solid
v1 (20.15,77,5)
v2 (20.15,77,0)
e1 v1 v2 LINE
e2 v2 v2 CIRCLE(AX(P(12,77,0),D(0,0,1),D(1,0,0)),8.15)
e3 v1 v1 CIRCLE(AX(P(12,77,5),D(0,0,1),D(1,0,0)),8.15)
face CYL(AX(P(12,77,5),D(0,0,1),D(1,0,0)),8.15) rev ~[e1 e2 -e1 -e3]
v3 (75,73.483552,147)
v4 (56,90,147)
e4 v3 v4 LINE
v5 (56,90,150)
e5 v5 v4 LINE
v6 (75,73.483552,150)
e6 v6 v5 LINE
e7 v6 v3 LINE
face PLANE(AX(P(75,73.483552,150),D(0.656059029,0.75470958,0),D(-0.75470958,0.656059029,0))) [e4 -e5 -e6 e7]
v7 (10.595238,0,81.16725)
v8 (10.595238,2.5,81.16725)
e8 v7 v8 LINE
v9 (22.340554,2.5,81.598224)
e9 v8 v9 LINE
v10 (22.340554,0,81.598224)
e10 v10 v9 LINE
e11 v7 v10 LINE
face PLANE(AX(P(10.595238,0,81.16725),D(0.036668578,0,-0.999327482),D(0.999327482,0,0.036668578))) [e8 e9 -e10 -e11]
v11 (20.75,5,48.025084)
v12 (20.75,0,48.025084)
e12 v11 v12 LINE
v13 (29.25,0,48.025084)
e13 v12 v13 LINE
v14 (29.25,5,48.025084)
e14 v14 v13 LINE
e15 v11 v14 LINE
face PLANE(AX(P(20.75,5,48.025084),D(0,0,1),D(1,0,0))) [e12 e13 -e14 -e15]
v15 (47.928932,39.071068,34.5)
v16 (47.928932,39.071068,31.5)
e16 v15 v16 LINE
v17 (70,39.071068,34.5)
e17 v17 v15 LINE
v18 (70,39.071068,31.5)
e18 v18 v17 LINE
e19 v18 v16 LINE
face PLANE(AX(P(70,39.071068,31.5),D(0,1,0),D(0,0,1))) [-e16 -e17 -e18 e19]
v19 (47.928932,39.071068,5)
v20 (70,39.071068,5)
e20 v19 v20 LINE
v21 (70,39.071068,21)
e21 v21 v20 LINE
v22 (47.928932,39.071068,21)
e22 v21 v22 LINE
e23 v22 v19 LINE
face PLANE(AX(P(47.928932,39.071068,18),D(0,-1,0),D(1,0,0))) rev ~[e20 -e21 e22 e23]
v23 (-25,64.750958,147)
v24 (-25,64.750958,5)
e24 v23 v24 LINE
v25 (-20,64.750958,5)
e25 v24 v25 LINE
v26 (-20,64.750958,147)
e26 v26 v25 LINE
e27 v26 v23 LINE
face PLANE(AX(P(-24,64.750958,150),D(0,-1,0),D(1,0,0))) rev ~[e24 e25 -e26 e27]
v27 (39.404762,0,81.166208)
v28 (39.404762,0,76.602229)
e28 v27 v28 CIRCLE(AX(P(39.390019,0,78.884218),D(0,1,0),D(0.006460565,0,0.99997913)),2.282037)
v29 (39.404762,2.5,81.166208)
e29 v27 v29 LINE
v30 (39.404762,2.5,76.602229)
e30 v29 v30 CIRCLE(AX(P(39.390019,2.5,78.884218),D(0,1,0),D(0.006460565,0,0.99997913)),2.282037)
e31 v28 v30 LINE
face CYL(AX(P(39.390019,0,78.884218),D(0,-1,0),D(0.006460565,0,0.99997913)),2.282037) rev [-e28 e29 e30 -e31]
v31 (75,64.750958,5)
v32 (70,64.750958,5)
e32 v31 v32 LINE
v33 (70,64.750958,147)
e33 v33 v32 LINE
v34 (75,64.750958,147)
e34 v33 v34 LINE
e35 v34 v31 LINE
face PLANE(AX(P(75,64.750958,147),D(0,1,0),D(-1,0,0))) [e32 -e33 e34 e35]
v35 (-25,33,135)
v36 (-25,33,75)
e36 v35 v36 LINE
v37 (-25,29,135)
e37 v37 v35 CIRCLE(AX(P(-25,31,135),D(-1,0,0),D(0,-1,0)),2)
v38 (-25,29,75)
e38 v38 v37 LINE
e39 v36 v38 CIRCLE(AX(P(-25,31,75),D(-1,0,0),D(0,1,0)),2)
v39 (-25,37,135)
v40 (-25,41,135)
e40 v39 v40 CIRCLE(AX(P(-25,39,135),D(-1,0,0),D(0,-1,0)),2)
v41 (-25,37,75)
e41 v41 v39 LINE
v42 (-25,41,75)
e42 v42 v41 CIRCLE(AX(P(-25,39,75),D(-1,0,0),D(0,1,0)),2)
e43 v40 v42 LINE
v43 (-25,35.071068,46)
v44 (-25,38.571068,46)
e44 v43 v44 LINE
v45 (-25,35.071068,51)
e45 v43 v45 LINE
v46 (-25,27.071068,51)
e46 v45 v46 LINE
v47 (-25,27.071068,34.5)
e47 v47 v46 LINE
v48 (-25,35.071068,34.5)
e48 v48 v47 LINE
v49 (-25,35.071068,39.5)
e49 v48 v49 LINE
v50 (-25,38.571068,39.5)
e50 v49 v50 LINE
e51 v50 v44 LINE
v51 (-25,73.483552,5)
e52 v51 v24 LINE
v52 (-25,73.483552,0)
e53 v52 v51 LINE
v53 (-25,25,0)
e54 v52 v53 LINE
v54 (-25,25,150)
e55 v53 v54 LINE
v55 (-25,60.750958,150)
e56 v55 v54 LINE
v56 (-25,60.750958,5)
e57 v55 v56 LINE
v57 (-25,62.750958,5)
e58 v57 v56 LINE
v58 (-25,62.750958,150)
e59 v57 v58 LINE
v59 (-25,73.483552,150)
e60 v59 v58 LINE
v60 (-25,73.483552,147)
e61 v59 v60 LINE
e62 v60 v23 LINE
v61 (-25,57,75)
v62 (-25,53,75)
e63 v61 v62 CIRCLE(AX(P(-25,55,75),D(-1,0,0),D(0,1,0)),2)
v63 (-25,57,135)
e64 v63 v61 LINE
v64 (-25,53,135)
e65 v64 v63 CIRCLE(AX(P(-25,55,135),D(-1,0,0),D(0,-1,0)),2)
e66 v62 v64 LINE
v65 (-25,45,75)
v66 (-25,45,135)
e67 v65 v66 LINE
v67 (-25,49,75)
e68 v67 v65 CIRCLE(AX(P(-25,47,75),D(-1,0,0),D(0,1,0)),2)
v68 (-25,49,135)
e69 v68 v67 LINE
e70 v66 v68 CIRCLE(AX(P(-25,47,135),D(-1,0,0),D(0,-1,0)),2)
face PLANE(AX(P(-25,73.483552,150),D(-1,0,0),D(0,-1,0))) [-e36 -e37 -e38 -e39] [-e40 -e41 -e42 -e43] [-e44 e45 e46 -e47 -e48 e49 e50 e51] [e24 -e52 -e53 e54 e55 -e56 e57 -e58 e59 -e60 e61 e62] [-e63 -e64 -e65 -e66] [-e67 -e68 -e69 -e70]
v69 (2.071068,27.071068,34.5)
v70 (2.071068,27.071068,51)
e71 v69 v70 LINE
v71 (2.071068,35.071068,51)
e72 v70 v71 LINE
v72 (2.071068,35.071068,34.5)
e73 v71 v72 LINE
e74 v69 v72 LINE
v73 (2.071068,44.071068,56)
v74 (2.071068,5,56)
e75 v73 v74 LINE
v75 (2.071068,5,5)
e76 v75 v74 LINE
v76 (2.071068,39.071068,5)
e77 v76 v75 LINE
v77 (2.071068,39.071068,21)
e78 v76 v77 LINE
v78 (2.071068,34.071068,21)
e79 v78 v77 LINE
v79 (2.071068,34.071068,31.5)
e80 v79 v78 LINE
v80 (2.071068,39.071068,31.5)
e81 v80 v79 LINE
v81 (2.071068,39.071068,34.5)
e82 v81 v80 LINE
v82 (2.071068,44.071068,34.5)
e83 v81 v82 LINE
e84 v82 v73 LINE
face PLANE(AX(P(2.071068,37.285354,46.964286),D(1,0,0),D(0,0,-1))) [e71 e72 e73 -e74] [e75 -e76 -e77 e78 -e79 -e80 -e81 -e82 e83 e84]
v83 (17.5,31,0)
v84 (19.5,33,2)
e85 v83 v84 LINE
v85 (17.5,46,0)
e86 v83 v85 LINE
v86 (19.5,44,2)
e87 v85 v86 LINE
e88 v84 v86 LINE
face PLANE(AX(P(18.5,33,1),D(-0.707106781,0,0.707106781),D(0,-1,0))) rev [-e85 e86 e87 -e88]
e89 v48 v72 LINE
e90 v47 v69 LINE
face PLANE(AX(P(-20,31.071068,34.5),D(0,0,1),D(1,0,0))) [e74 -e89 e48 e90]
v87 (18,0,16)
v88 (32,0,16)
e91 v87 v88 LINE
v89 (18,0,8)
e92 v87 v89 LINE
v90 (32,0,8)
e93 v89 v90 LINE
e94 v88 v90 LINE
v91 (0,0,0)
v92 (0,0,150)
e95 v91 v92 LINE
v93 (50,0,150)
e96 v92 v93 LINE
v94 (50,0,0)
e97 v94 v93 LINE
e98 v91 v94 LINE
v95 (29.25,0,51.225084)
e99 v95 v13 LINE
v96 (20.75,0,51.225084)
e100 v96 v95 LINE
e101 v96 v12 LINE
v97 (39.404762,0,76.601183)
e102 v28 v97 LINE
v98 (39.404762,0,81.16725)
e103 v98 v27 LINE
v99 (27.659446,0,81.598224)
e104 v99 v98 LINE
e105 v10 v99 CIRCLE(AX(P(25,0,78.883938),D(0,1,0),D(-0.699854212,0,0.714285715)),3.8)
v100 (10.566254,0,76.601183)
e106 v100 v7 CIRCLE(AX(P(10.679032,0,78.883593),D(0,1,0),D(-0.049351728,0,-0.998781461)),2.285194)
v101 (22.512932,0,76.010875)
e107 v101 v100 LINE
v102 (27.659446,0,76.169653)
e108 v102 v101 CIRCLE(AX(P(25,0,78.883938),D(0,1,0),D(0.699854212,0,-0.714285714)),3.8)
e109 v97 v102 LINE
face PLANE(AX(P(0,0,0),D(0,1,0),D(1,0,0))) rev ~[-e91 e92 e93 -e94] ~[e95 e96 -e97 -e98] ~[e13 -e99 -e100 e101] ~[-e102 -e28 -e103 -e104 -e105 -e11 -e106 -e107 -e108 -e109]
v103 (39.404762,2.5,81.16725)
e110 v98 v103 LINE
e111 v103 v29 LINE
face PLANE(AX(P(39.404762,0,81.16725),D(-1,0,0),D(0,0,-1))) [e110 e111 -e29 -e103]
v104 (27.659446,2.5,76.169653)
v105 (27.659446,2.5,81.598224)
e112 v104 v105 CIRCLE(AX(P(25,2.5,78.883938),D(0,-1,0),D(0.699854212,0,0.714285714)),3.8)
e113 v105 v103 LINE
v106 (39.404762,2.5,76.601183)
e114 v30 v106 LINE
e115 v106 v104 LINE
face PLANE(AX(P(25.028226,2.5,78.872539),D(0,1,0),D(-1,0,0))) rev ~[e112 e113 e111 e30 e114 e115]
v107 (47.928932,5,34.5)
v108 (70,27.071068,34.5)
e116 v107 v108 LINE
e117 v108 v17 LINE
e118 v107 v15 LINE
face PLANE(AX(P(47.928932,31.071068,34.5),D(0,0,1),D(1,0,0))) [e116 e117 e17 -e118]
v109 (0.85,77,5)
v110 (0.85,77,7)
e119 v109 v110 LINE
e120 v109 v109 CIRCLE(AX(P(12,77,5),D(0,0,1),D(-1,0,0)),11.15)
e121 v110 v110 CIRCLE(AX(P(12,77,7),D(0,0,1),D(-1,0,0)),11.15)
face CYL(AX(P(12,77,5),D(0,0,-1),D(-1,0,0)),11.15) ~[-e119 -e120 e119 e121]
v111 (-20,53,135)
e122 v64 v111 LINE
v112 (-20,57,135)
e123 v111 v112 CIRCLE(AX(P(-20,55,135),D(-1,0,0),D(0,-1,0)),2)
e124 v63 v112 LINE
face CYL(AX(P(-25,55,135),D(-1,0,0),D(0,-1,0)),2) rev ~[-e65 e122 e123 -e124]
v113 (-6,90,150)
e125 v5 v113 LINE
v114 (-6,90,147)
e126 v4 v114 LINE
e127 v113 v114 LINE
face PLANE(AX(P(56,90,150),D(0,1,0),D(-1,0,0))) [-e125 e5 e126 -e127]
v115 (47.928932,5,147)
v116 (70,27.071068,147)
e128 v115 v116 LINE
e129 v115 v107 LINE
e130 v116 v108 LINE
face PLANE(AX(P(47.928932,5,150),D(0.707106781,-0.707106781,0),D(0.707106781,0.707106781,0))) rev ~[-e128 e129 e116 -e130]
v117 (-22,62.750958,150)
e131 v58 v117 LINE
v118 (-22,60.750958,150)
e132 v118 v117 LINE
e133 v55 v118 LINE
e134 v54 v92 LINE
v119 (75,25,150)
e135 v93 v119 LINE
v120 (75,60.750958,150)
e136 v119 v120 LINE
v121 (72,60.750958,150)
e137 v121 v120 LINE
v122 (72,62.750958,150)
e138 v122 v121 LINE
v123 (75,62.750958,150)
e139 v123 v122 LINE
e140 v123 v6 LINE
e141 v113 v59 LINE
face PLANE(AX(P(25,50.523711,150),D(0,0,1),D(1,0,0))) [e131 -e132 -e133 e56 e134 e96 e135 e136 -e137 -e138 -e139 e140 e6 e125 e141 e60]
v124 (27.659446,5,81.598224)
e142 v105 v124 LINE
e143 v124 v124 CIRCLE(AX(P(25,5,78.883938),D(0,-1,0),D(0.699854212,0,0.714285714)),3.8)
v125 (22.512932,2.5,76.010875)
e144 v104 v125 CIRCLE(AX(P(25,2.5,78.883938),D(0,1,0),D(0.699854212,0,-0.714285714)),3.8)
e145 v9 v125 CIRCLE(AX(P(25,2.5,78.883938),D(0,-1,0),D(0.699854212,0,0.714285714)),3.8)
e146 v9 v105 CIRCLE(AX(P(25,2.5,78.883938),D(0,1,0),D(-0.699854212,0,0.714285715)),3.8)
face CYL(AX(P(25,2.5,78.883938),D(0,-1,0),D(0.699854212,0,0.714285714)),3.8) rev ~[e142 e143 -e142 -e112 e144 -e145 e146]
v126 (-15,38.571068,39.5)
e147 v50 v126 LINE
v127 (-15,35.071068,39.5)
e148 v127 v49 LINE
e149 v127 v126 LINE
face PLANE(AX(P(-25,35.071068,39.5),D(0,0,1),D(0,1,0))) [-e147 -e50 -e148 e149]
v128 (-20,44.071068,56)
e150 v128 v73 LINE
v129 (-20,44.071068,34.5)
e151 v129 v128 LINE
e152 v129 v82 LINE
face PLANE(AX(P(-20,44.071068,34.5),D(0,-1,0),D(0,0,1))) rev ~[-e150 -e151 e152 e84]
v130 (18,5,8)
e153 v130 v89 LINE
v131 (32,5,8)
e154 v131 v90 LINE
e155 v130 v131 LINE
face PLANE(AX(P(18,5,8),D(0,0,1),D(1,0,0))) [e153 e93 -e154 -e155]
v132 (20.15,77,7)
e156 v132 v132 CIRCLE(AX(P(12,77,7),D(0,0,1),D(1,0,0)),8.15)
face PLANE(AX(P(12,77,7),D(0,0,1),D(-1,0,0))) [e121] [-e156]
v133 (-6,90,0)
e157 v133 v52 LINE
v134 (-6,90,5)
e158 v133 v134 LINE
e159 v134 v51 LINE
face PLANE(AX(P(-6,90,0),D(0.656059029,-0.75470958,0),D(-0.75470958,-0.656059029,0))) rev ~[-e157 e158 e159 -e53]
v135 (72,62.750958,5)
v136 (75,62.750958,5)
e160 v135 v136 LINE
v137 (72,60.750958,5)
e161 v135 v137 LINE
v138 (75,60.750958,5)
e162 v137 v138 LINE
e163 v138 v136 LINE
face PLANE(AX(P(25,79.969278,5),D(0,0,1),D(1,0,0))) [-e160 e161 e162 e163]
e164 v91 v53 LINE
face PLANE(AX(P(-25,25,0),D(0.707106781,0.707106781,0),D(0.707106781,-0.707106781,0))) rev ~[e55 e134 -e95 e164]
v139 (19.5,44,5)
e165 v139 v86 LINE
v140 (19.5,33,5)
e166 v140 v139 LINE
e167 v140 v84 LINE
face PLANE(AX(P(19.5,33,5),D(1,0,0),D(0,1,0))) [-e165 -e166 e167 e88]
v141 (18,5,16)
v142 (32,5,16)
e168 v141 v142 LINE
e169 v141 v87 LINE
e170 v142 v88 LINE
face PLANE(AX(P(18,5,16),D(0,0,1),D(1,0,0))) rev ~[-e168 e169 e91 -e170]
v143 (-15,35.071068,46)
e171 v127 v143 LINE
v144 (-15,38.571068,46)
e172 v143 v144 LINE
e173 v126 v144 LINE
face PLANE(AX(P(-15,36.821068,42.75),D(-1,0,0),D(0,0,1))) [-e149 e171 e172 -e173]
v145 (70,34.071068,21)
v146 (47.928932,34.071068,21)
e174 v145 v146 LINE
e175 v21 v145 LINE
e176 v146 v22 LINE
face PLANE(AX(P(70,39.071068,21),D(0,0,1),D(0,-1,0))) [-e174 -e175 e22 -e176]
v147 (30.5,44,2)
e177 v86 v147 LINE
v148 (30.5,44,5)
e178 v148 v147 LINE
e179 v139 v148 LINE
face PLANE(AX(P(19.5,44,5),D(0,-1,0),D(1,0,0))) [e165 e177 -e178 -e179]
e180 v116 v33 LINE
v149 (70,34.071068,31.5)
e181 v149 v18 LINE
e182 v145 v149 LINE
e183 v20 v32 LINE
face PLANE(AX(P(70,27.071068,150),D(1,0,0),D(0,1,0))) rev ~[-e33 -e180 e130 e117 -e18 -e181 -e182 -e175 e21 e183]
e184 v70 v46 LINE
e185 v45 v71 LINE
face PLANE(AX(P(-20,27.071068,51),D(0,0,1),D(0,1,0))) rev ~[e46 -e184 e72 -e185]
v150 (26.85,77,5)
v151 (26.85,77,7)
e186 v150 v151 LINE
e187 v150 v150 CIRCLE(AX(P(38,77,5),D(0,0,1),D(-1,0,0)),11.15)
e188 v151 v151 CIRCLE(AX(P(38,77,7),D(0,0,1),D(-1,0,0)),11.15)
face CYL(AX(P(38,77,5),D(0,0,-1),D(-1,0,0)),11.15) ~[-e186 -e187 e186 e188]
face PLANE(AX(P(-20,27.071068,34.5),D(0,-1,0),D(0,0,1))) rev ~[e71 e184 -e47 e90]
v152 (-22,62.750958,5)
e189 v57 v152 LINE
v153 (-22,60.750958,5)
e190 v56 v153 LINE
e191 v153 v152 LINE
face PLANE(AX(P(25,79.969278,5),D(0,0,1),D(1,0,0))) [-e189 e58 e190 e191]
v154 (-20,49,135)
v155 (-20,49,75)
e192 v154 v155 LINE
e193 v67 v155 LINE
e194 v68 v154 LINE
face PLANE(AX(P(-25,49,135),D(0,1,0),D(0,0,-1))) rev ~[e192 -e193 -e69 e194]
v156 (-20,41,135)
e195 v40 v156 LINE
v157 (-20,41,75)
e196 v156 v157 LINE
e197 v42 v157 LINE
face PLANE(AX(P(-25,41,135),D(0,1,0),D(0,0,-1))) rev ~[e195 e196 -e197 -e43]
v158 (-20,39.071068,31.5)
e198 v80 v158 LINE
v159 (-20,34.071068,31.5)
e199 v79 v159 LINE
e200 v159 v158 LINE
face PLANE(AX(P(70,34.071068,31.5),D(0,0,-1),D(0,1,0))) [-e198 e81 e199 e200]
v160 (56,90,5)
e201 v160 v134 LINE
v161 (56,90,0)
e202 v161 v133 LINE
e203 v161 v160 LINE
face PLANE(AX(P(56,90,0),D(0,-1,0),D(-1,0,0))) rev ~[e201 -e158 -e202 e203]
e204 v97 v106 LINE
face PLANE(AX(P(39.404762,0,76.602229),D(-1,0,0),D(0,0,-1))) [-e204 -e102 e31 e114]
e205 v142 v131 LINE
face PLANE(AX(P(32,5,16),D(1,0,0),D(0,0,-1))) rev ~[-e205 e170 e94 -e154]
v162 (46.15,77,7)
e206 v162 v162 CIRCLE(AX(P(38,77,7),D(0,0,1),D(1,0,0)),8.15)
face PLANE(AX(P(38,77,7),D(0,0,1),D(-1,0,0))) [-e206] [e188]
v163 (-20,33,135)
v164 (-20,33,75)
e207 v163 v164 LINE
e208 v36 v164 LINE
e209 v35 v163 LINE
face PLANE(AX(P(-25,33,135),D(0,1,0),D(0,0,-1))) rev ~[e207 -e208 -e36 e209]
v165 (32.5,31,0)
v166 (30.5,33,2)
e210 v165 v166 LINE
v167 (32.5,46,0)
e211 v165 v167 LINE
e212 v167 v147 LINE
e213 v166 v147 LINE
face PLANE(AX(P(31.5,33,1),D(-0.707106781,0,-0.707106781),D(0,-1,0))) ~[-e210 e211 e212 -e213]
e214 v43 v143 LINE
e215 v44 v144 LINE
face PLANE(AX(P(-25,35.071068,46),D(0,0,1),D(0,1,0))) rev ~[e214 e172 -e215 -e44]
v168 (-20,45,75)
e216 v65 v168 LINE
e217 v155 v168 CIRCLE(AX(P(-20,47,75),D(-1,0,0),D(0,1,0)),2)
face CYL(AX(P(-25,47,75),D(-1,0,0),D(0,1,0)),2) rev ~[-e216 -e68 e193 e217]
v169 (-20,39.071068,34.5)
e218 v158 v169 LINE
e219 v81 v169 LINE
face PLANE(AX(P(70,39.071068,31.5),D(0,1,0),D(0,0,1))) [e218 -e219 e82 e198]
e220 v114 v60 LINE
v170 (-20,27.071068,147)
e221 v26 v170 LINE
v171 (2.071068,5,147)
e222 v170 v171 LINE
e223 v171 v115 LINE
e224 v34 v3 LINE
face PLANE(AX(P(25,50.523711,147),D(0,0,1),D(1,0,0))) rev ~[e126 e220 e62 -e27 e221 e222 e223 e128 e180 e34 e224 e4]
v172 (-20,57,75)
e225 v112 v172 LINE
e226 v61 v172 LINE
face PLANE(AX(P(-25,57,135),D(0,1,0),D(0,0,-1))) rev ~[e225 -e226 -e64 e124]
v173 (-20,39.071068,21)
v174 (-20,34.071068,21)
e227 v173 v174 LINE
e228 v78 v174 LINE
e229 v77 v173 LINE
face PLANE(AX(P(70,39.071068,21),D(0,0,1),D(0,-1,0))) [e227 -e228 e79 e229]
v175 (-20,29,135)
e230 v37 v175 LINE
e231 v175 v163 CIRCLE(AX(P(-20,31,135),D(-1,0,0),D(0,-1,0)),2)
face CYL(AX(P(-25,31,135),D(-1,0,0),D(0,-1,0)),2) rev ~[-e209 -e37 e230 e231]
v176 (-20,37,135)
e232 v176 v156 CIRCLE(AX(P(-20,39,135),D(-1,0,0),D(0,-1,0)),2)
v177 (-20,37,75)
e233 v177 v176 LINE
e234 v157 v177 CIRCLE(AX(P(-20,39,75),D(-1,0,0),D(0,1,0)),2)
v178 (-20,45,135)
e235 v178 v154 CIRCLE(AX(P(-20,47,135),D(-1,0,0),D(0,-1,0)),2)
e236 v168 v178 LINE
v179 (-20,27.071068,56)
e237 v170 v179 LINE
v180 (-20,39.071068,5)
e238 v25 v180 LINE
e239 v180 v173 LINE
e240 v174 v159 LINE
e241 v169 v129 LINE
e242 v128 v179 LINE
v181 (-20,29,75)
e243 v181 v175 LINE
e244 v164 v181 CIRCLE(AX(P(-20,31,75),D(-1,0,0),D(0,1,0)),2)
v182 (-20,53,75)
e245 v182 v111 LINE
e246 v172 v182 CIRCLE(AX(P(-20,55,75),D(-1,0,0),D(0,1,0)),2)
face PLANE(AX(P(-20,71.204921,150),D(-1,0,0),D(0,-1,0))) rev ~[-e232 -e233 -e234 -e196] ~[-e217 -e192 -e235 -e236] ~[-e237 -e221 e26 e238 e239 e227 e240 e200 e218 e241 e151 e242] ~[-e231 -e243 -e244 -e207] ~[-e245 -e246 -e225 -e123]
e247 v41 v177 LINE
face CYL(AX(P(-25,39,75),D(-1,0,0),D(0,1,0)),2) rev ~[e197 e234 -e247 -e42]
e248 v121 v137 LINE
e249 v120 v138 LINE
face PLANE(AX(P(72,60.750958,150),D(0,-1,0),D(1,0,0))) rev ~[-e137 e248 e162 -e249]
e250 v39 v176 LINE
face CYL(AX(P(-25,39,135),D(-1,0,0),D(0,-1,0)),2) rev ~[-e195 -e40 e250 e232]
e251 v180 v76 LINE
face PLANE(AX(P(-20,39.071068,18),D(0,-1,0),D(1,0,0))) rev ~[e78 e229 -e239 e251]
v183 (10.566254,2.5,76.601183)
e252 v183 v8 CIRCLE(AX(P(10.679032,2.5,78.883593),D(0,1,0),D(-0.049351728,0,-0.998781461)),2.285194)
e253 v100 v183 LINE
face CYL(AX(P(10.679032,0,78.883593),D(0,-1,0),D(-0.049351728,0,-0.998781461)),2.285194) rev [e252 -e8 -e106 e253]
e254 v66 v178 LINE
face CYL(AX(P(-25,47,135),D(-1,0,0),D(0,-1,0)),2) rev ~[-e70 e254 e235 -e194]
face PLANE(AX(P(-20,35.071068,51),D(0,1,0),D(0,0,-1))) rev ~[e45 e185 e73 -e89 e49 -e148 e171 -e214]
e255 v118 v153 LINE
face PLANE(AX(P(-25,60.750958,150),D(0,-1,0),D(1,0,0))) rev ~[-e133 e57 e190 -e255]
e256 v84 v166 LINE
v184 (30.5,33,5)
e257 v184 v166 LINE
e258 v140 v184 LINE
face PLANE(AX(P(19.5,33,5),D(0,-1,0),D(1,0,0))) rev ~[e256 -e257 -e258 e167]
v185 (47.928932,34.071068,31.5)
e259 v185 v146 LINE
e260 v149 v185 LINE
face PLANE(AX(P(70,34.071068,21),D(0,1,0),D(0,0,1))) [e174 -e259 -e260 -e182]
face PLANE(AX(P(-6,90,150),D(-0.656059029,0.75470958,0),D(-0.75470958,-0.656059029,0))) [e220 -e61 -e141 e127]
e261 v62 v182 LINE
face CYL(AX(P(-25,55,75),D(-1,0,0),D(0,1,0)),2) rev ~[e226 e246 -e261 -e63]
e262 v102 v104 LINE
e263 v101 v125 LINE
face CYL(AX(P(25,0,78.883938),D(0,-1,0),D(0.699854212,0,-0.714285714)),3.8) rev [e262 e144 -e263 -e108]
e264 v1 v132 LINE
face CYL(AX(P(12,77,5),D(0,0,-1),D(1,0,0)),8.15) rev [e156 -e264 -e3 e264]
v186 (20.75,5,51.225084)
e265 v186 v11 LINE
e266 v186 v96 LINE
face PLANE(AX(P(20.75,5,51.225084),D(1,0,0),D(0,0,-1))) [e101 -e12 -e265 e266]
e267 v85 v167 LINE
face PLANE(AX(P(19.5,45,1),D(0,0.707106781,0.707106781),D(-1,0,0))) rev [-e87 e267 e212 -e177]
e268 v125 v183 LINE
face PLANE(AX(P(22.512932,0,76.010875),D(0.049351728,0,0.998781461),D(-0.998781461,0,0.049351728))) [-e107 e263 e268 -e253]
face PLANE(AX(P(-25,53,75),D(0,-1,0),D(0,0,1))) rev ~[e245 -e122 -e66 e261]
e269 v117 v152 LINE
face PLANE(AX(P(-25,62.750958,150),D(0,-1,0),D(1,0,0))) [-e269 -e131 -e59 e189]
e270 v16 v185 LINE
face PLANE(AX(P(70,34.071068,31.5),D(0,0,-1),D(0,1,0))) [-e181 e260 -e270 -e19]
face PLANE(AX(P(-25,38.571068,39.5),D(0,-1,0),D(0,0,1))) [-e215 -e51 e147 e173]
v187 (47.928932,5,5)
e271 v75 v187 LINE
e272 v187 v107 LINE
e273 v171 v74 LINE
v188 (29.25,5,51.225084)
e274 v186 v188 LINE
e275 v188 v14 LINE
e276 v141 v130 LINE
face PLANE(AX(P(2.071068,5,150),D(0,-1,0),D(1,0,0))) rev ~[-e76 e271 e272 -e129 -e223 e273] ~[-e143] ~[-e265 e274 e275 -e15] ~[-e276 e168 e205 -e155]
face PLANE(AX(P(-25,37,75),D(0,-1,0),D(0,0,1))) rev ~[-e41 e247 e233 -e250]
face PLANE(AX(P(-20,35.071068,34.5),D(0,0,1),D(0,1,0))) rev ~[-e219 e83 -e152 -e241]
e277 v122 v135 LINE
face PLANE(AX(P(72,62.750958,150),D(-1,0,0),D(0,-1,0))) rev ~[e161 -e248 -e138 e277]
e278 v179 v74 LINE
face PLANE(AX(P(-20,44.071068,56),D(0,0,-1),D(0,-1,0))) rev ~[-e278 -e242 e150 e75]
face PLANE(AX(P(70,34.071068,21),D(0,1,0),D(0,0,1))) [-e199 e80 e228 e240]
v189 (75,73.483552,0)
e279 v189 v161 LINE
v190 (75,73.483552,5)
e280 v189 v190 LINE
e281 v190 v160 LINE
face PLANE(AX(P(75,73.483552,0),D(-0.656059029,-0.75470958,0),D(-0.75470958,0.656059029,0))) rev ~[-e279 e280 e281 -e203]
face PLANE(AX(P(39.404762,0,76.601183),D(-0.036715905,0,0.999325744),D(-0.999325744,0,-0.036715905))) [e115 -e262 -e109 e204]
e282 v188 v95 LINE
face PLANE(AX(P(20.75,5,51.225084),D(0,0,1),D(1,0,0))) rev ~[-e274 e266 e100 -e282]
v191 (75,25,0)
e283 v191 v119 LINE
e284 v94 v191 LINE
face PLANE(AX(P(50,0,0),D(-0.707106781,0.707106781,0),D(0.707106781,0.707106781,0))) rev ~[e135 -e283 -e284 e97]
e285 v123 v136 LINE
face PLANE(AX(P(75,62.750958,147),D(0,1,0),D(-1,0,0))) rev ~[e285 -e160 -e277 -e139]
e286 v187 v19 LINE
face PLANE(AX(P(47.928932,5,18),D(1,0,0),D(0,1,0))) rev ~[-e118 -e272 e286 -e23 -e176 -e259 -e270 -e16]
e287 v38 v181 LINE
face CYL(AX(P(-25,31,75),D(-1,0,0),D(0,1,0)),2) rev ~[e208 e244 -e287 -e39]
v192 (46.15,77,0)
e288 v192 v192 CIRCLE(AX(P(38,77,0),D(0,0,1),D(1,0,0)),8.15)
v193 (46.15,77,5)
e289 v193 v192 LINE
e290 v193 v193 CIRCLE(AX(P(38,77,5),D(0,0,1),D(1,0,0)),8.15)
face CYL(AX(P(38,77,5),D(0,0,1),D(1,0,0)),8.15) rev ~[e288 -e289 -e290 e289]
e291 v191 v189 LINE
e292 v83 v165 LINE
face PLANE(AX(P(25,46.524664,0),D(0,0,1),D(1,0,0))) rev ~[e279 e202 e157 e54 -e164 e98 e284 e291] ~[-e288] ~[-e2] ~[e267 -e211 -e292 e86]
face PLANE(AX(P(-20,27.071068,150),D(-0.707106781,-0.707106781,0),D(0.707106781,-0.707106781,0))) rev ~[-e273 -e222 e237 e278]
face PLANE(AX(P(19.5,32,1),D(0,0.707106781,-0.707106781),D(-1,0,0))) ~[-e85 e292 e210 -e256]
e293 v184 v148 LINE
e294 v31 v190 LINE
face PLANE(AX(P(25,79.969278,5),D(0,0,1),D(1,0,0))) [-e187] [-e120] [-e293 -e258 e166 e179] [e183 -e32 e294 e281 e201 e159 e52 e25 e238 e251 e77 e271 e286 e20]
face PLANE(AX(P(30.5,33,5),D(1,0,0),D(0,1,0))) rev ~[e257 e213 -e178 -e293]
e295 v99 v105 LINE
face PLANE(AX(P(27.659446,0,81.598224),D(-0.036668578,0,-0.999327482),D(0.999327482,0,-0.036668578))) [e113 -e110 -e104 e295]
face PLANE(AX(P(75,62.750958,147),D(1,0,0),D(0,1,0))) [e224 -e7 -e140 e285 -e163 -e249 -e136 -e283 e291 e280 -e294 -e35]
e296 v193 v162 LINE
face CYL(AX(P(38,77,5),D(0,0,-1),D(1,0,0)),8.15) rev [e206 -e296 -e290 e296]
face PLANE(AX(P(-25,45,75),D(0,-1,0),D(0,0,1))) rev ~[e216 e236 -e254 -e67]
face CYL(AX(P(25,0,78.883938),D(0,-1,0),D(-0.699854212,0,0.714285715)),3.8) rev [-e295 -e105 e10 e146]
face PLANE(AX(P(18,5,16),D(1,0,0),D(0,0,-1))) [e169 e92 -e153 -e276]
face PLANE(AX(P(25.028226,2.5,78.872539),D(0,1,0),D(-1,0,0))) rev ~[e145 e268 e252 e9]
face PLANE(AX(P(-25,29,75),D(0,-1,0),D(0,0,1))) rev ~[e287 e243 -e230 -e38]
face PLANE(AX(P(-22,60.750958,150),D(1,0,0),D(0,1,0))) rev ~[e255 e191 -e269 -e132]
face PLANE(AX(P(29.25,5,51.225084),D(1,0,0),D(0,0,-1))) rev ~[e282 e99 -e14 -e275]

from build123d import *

# Parameters (mm, degrees)
BOSS_EXTRUDE2_DEPTH  = 150
CUT_EXTRUDE2_DEPTH   = 145
CUT_EXTRUDE4_DEPTH   = 145
BOSS_EXTRUDE3_DEPTH  = 90
SKETCH10_W           = 14
SKETCH10_H           = 8
SKETCH10_W_2         = 8.5
SKETCH10_H_2         = 3.2
CUT_EXTRUDE5_DEPTH   = 189.01595677
SKETCH11_W           = 11
SKETCH11_H           = 11
CUT_EXTRUDE6_DEPTH   = 187.413518823
SKETCH12_R           = 11.15
SKETCH12_R_2         = 8.15
BOSS_EXTRUDE4_DEPTH  = 2
SKETCH13_R           = 8.15
CUT_EXTRUDE7_DEPTH   = 187.413518823
CHAMFER1_SIZE        = 2
CUT_EXTRUDE8_REACH   = 166.515
SKETCH14_W           = 45.857864376
SKETCH14_H           = 8
BOSS_EXTRUDE5_REACH  = 179.757
SKETCH15_W           = 22.071067812
SKETCH15_H           = 16.5
BOSS_EXTRUDE6_REACH  = 179.757
SKETCH16_W           = 22.071067812
SKETCH16_H           = 16.5
BOSS_EXTRUDE7_DEPTH  = 22.071067812
BOSS_EXTRUDE9_DEPTH  = 3
SKETCH19_W           = 1
SKETCH19_H           = 2
BOSS_EXTRUDE10_DEPTH = 142
CUT_EXTRUDE9_DEPTH   = 151.203195705
SKETCH21_W           = 16.5
SKETCH21_H           = 8
CUT_EXTRUDE10_DEPTH  = 200.060292374
SKETCH22_W           = 6.5
SKETCH22_H           = 3.5
CUT_EXTRUDE11_DEPTH  = 10
CUT_EXTRUDE13_DEPTH  = 5
CUT_EXTRUDE15_DEPTH  = 2.5
SKETCH28_R           = 3.8
CUT_EXTRUDE16_DEPTH  = 190.15932438
BOSS_EXTRUDE11_DEPTH = 13


with BuildPart() as part:
    # Sketch1 → Boss-Extrude2 (new body)
    with BuildSketch(Plane.XY):
        Polygon((0, 0), (50, 0), (75, 25), (75, 73.483551981), (56, 90), (-6, 90), (-25, 73.483551981), (-25, 25), align=None)
    extrude(amount=BOSS_EXTRUDE2_DEPTH)

    # Sketch3 → Cut-Extrude2 (cut)
    with BuildSketch(Plane.XY.offset(150)):
        Polygon((-4.130576603, 85), (-20, 71.204920704), (-20, 27.071067812), (2.071067812, 5), (47.928932188, 5), (70, 27.071067812), (70, 71.204920704), (54.130576603, 85), align=None)
    extrude(amount=-CUT_EXTRUDE2_DEPTH, mode=Mode.SUBTRACT)

    # Sketch8 → Cut-Extrude4 (cut)
    with BuildSketch(Plane.XY.offset(150)):
        Polygon((-6, 90), (-25, 73.483551981), (-25, 60.75095761), (-22, 60.75095761), (-22, 62.75095761), (-24, 62.75095761), (-24, 64.75095761), (-20, 64.75095761), (-20, 71.204920704), (-4.130576603, 85), (54.130576603, 85), (70, 71.204920704), (70, 64.75095761), (74, 64.75095761), (74, 62.75095761), (72, 62.75095761), (72, 60.75095761), (75, 60.75095761), (75, 73.483551981), (56, 90), align=None)
    extrude(amount=-CUT_EXTRUDE4_DEPTH, mode=Mode.SUBTRACT)

    # Sketch9 → Boss-Extrude3 (add)
    with BuildSketch(Plane.ZY.offset(-70)):
        Polygon((21, 34.071067812), (31.5, 34.071067812), (31.5, 39.071067812), (34.5, 39.071067812), (34.5, 31.071067812), (18, 31.071067812), (18, 39.071067812), (21, 39.071067812), align=None)
    extrude(amount=BOSS_EXTRUDE3_DEPTH)

    # Sketch10 → Cut-Extrude5 (cut, through all)
    with BuildSketch(Plane(origin=(0, 5, 0), x_dir=(1, 0, 0), z_dir=(0, 1, 0))):
        with Locations((25, -12)):
            Rectangle(SKETCH10_W, SKETCH10_H)
        with Locations((25, -49.625084235)):
            Rectangle(SKETCH10_W_2, SKETCH10_H_2)
    extrude(amount=-CUT_EXTRUDE5_DEPTH, mode=Mode.SUBTRACT)

    # Sketch11 → Cut-Extrude6 (cut, through all)
    with BuildSketch(Plane.XY.offset(5)):
        with Locations((25, 38.5)):
            Rectangle(SKETCH11_W, SKETCH11_H)
    extrude(amount=-CUT_EXTRUDE6_DEPTH, mode=Mode.SUBTRACT)

    # Sketch12 → Boss-Extrude4 (add)
    # profile 1 of 2: a face of its own
    with BuildSketch(Plane.XY.offset(5)):
        with Locations(Location((12, 77, 0), (0, 0, 180))):
            Circle(SKETCH12_R)
        with Locations((12, 77)):
            Circle(SKETCH12_R_2, mode=Mode.SUBTRACT)
    # profile 2 of 2: a face of its own
    with BuildSketch(Plane.XY.offset(5)):
        with Locations(Location((38, 77, 0), (0, 0, 180))):
            Circle(SKETCH12_R)
        with Locations((38, 77)):
            Circle(SKETCH12_R_2, mode=Mode.SUBTRACT)
    extrude(amount=BOSS_EXTRUDE4_DEPTH)

    # Sketch13 → Cut-Extrude7 (cut, through all)
    with BuildSketch(Plane.XY.offset(5)):
        with Locations((12, 77)):
            Circle(SKETCH13_R)
        with Locations((38, 77)):
            Circle(SKETCH13_R)
    extrude(amount=-CUT_EXTRUDE7_DEPTH, mode=Mode.SUBTRACT)

    # Chamfer1
    chamfer1_edges = [part.edges().sort_by_distance(p)[0] for p in [
        (19.5, 38.5, 0),
        (25, 44, 0),
        (30.5, 38.5, 0),
        (25, 33, 0),
    ]]
    chamfer(chamfer1_edges, length=CHAMFER1_SIZE)

    # Cut-Extrude8: up to this face of the body (flat: up to its plane)
    cut_extrude8_end = Plane(part.part.faces().sort_by_distance((25, 35.071067812, 18))[0])
    # Sketch14 → Cut-Extrude8 (cut, up to the picked face)
    with BuildSketch(Plane.XY.offset(34.5), mode=Mode.PRIVATE) as cut_extrude8_sk1:
        with Locations((25, 35.071067812)):
            Rectangle(SKETCH14_W, SKETCH14_H)
    cut_extrude8_tool1 = split(extrude(cut_extrude8_sk1.sketch, amount=-CUT_EXTRUDE8_REACH, mode=Mode.PRIVATE), bisect_by=cut_extrude8_end, keep=Keep.BOTH, mode=Mode.PRIVATE)
    add(cut_extrude8_tool1.solids().sort_by(Axis((25, 35.071068, 34.5), (0, 0, -1)))[0], mode=Mode.SUBTRACT)

    # Boss-Extrude5: up to this plane
    boss_extrude5_end = Plane(origin=(47.928932188, 5, -120.415945788), z_dir=(0.7071067811865476, -0.7071067811865475, 0))
    # Sketch15 → Boss-Extrude5 (add, up to the surface)
    with BuildSketch(Plane.XZ.offset(-31.071067812), mode=Mode.PRIVATE) as boss_extrude5_sk1:
        with Locations((58.964466094, 26.25)):
            Rectangle(SKETCH15_W, SKETCH15_H)
    boss_extrude5_tool1 = split(extrude(boss_extrude5_sk1.sketch, amount=BOSS_EXTRUDE5_REACH, mode=Mode.PRIVATE), bisect_by=boss_extrude5_end, keep=Keep.BOTH, mode=Mode.PRIVATE)
    add(boss_extrude5_tool1.solids().sort_by_distance((58.964466, 31.071068, 26.25))[0])

    # Boss-Extrude6: up to this plane
    boss_extrude6_end = Plane(origin=(-20, 27.071067812, -120.415945788), z_dir=(-0.7071067811865475, -0.7071067811865476, 0))
    # Sketch16 → Boss-Extrude6 (add, up to the surface)
    with BuildSketch(Plane.XZ.offset(-31.071067812), mode=Mode.PRIVATE) as boss_extrude6_sk1:
        with Locations((-8.964466094, 26.25)):
            Rectangle(SKETCH16_W, SKETCH16_H)
    boss_extrude6_tool1 = split(extrude(boss_extrude6_sk1.sketch, amount=BOSS_EXTRUDE6_REACH, mode=Mode.PRIVATE), bisect_by=boss_extrude6_end, keep=Keep.BOTH, mode=Mode.PRIVATE)
    add(boss_extrude6_tool1.solids().sort_by_distance((-8.964466, 31.071068, 26.25))[0])

    # Sketch17 → Boss-Extrude7 (add)
    with BuildSketch(Plane(origin=(-20, 0, 0), x_dir=(0, 0, -1), z_dir=(1, 0, 0))):
        Polygon((-56, 27.071067812), (-51, 27.071067812), (-51, 35.071067812), (-34.5, 35.071067812), (-34.5, 39.071067812), (-34.5, 44.071067812), (-56, 44.071067812), align=None)
        Polygon((-34.5, 5), (-34.5, 27.071067812), (-51, 27.071067812), (-56, 27.071067812), (-56, 5), align=None)
    extrude(amount=BOSS_EXTRUDE7_DEPTH)

    # Sketch18 → Boss-Extrude9 (add)
    with BuildSketch(Plane.XY.offset(150)):
        Polygon((75, 62.75095761), (75, 73.483551981), (56, 90), (-6, 90), (-25, 73.483551981), (-25, 62.75095761), (-24, 62.75095761), (-24, 64.75095761), (-20, 64.75095761), (-20, 27.071067812), (2.071067812, 5), (47.928932188, 5), (70, 27.071067812), (70, 64.75095761), (74, 64.75095761), (74, 62.75095761), align=None)
    extrude(amount=-BOSS_EXTRUDE9_DEPTH)

    # Sketch19 → Boss-Extrude10 (add)
    with BuildSketch(Plane(origin=(0, 0, 147), x_dir=(-1, 0, 0), z_dir=(0, 0, -1))):
        with Locations((-74.5, 63.75095761)):
            Rectangle(SKETCH19_W, SKETCH19_H)
        with Locations((24.5, 63.75095761)):
            Rectangle(SKETCH19_W, SKETCH19_H)
    extrude(amount=BOSS_EXTRUDE10_DEPTH)

    # Sketch20 → Cut-Extrude9 (cut, through all)
    with BuildSketch(Plane.XY.offset(56)):
        Polygon((-5, 5), (-20, 20), (-20, 5), align=None)
    extrude(amount=-CUT_EXTRUDE9_DEPTH, mode=Mode.SUBTRACT)

    # Sketch21 → Cut-Extrude10 (cut, through all)
    with BuildSketch(Plane(origin=(-20, 0, 0), x_dir=(0, 0, -1), z_dir=(1, 0, 0))):
        with Locations((-42.75, 31.071067812)):
            Rectangle(SKETCH21_W, SKETCH21_H)
    extrude(amount=-CUT_EXTRUDE10_DEPTH, mode=Mode.SUBTRACT)

    # Sketch22 → Cut-Extrude11 (cut)
    with BuildSketch(Plane.ZY.offset(25)):
        with Locations((42.75, 36.821067812)):
            Rectangle(SKETCH22_W, SKETCH22_H)
    extrude(amount=-CUT_EXTRUDE11_DEPTH, mode=Mode.SUBTRACT)

    # Sketch23 → Cut-Extrude13 (cut)
    with BuildSketch(Plane.ZY.offset(25)):
        with BuildLine():
            Line((75, 29), (135, 29))
            ThreePointArc((135, 29), (137, 31), (135, 33))
            Line((135, 33), (75, 33))
            ThreePointArc((75, 33), (73, 31), (75, 29))
        make_face()
        with BuildLine():
            Line((135, 41), (75, 41))
            ThreePointArc((75, 41), (73, 39), (75, 37))
            Line((75, 37), (135, 37))
            ThreePointArc((135, 37), (137, 39), (135, 41))
        make_face()
        with BuildLine():
            Line((135, 49), (75, 49))
            ThreePointArc((75, 49), (73, 47), (75, 45))
            Line((75, 45), (135, 45))
            ThreePointArc((135, 45), (137, 47), (135, 49))
        make_face()
        with BuildLine():
            Line((135, 57), (75, 57))
            ThreePointArc((75, 57), (73, 55), (75, 53))
            Line((75, 53), (135, 53))
            ThreePointArc((135, 53), (137, 55), (135, 57))
        make_face()
    extrude(amount=-CUT_EXTRUDE13_DEPTH, mode=Mode.SUBTRACT)

    # Sketch27 → Cut-Extrude15 (cut)
    with BuildSketch(Plane.XZ):
        with BuildLine():
            Line((39.404762454, 81.167250077), (39.404762454, 81.166207685))
            ThreePointArc((39.404762454, 81.166207685), (41.672056129, 78.884218387), (39.404762454, 76.60222909))
            Line((39.404762454, 76.60222909), (39.404762454, 76.601183426))
            Line((39.404762454, 76.601183426), (27.659446006, 76.169652537))
            ThreePointArc((27.659446006, 76.169652537), (25.117179913, 75.085745409), (22.512932044, 76.010874907))
            Line((22.512932044, 76.010874907), (10.566254086, 76.601183426))
            ThreePointArc((10.566254086, 76.601183426), (8.393884355, 78.898098023), (10.595237546, 81.167250077))
            Line((10.595237546, 81.167250077), (22.340553994, 81.598223966))
            ThreePointArc((22.340553994, 81.598223966), (25, 82.683938251), (27.659446006, 81.598223966))
            Line((27.659446006, 81.598223966), (39.404762454, 81.167250077))
        make_face()
    extrude(amount=-CUT_EXTRUDE15_DEPTH, mode=Mode.SUBTRACT)

    # Sketch28 → Cut-Extrude16 (cut, through all)
    with BuildSketch(Plane.XZ.offset(-2.5)):
        with Locations(Location((25, 78.883938251, 0), (0, 0, 45.584691403))):
            Circle(SKETCH28_R)
    extrude(amount=-CUT_EXTRUDE16_DEPTH, mode=Mode.SUBTRACT)

    # Sketch29 → Boss-Extrude11 (add)
    with BuildSketch(Plane(origin=(0, 0, 18), x_dir=(-1, 0, 0), z_dir=(0, 0, -1))):
        Polygon((-70, 39.071067812), (-70, 27.071067812), (-47.928932188, 5), (-47.928932188, 39.071067812), align=None)
        Polygon((20, 39.071067812), (-2.071067812, 39.071067812), (-2.071067812, 5), (20, 27.071067812), align=None)
    extrude(amount=BOSS_EXTRUDE11_DEPTH)


solid = part.part
